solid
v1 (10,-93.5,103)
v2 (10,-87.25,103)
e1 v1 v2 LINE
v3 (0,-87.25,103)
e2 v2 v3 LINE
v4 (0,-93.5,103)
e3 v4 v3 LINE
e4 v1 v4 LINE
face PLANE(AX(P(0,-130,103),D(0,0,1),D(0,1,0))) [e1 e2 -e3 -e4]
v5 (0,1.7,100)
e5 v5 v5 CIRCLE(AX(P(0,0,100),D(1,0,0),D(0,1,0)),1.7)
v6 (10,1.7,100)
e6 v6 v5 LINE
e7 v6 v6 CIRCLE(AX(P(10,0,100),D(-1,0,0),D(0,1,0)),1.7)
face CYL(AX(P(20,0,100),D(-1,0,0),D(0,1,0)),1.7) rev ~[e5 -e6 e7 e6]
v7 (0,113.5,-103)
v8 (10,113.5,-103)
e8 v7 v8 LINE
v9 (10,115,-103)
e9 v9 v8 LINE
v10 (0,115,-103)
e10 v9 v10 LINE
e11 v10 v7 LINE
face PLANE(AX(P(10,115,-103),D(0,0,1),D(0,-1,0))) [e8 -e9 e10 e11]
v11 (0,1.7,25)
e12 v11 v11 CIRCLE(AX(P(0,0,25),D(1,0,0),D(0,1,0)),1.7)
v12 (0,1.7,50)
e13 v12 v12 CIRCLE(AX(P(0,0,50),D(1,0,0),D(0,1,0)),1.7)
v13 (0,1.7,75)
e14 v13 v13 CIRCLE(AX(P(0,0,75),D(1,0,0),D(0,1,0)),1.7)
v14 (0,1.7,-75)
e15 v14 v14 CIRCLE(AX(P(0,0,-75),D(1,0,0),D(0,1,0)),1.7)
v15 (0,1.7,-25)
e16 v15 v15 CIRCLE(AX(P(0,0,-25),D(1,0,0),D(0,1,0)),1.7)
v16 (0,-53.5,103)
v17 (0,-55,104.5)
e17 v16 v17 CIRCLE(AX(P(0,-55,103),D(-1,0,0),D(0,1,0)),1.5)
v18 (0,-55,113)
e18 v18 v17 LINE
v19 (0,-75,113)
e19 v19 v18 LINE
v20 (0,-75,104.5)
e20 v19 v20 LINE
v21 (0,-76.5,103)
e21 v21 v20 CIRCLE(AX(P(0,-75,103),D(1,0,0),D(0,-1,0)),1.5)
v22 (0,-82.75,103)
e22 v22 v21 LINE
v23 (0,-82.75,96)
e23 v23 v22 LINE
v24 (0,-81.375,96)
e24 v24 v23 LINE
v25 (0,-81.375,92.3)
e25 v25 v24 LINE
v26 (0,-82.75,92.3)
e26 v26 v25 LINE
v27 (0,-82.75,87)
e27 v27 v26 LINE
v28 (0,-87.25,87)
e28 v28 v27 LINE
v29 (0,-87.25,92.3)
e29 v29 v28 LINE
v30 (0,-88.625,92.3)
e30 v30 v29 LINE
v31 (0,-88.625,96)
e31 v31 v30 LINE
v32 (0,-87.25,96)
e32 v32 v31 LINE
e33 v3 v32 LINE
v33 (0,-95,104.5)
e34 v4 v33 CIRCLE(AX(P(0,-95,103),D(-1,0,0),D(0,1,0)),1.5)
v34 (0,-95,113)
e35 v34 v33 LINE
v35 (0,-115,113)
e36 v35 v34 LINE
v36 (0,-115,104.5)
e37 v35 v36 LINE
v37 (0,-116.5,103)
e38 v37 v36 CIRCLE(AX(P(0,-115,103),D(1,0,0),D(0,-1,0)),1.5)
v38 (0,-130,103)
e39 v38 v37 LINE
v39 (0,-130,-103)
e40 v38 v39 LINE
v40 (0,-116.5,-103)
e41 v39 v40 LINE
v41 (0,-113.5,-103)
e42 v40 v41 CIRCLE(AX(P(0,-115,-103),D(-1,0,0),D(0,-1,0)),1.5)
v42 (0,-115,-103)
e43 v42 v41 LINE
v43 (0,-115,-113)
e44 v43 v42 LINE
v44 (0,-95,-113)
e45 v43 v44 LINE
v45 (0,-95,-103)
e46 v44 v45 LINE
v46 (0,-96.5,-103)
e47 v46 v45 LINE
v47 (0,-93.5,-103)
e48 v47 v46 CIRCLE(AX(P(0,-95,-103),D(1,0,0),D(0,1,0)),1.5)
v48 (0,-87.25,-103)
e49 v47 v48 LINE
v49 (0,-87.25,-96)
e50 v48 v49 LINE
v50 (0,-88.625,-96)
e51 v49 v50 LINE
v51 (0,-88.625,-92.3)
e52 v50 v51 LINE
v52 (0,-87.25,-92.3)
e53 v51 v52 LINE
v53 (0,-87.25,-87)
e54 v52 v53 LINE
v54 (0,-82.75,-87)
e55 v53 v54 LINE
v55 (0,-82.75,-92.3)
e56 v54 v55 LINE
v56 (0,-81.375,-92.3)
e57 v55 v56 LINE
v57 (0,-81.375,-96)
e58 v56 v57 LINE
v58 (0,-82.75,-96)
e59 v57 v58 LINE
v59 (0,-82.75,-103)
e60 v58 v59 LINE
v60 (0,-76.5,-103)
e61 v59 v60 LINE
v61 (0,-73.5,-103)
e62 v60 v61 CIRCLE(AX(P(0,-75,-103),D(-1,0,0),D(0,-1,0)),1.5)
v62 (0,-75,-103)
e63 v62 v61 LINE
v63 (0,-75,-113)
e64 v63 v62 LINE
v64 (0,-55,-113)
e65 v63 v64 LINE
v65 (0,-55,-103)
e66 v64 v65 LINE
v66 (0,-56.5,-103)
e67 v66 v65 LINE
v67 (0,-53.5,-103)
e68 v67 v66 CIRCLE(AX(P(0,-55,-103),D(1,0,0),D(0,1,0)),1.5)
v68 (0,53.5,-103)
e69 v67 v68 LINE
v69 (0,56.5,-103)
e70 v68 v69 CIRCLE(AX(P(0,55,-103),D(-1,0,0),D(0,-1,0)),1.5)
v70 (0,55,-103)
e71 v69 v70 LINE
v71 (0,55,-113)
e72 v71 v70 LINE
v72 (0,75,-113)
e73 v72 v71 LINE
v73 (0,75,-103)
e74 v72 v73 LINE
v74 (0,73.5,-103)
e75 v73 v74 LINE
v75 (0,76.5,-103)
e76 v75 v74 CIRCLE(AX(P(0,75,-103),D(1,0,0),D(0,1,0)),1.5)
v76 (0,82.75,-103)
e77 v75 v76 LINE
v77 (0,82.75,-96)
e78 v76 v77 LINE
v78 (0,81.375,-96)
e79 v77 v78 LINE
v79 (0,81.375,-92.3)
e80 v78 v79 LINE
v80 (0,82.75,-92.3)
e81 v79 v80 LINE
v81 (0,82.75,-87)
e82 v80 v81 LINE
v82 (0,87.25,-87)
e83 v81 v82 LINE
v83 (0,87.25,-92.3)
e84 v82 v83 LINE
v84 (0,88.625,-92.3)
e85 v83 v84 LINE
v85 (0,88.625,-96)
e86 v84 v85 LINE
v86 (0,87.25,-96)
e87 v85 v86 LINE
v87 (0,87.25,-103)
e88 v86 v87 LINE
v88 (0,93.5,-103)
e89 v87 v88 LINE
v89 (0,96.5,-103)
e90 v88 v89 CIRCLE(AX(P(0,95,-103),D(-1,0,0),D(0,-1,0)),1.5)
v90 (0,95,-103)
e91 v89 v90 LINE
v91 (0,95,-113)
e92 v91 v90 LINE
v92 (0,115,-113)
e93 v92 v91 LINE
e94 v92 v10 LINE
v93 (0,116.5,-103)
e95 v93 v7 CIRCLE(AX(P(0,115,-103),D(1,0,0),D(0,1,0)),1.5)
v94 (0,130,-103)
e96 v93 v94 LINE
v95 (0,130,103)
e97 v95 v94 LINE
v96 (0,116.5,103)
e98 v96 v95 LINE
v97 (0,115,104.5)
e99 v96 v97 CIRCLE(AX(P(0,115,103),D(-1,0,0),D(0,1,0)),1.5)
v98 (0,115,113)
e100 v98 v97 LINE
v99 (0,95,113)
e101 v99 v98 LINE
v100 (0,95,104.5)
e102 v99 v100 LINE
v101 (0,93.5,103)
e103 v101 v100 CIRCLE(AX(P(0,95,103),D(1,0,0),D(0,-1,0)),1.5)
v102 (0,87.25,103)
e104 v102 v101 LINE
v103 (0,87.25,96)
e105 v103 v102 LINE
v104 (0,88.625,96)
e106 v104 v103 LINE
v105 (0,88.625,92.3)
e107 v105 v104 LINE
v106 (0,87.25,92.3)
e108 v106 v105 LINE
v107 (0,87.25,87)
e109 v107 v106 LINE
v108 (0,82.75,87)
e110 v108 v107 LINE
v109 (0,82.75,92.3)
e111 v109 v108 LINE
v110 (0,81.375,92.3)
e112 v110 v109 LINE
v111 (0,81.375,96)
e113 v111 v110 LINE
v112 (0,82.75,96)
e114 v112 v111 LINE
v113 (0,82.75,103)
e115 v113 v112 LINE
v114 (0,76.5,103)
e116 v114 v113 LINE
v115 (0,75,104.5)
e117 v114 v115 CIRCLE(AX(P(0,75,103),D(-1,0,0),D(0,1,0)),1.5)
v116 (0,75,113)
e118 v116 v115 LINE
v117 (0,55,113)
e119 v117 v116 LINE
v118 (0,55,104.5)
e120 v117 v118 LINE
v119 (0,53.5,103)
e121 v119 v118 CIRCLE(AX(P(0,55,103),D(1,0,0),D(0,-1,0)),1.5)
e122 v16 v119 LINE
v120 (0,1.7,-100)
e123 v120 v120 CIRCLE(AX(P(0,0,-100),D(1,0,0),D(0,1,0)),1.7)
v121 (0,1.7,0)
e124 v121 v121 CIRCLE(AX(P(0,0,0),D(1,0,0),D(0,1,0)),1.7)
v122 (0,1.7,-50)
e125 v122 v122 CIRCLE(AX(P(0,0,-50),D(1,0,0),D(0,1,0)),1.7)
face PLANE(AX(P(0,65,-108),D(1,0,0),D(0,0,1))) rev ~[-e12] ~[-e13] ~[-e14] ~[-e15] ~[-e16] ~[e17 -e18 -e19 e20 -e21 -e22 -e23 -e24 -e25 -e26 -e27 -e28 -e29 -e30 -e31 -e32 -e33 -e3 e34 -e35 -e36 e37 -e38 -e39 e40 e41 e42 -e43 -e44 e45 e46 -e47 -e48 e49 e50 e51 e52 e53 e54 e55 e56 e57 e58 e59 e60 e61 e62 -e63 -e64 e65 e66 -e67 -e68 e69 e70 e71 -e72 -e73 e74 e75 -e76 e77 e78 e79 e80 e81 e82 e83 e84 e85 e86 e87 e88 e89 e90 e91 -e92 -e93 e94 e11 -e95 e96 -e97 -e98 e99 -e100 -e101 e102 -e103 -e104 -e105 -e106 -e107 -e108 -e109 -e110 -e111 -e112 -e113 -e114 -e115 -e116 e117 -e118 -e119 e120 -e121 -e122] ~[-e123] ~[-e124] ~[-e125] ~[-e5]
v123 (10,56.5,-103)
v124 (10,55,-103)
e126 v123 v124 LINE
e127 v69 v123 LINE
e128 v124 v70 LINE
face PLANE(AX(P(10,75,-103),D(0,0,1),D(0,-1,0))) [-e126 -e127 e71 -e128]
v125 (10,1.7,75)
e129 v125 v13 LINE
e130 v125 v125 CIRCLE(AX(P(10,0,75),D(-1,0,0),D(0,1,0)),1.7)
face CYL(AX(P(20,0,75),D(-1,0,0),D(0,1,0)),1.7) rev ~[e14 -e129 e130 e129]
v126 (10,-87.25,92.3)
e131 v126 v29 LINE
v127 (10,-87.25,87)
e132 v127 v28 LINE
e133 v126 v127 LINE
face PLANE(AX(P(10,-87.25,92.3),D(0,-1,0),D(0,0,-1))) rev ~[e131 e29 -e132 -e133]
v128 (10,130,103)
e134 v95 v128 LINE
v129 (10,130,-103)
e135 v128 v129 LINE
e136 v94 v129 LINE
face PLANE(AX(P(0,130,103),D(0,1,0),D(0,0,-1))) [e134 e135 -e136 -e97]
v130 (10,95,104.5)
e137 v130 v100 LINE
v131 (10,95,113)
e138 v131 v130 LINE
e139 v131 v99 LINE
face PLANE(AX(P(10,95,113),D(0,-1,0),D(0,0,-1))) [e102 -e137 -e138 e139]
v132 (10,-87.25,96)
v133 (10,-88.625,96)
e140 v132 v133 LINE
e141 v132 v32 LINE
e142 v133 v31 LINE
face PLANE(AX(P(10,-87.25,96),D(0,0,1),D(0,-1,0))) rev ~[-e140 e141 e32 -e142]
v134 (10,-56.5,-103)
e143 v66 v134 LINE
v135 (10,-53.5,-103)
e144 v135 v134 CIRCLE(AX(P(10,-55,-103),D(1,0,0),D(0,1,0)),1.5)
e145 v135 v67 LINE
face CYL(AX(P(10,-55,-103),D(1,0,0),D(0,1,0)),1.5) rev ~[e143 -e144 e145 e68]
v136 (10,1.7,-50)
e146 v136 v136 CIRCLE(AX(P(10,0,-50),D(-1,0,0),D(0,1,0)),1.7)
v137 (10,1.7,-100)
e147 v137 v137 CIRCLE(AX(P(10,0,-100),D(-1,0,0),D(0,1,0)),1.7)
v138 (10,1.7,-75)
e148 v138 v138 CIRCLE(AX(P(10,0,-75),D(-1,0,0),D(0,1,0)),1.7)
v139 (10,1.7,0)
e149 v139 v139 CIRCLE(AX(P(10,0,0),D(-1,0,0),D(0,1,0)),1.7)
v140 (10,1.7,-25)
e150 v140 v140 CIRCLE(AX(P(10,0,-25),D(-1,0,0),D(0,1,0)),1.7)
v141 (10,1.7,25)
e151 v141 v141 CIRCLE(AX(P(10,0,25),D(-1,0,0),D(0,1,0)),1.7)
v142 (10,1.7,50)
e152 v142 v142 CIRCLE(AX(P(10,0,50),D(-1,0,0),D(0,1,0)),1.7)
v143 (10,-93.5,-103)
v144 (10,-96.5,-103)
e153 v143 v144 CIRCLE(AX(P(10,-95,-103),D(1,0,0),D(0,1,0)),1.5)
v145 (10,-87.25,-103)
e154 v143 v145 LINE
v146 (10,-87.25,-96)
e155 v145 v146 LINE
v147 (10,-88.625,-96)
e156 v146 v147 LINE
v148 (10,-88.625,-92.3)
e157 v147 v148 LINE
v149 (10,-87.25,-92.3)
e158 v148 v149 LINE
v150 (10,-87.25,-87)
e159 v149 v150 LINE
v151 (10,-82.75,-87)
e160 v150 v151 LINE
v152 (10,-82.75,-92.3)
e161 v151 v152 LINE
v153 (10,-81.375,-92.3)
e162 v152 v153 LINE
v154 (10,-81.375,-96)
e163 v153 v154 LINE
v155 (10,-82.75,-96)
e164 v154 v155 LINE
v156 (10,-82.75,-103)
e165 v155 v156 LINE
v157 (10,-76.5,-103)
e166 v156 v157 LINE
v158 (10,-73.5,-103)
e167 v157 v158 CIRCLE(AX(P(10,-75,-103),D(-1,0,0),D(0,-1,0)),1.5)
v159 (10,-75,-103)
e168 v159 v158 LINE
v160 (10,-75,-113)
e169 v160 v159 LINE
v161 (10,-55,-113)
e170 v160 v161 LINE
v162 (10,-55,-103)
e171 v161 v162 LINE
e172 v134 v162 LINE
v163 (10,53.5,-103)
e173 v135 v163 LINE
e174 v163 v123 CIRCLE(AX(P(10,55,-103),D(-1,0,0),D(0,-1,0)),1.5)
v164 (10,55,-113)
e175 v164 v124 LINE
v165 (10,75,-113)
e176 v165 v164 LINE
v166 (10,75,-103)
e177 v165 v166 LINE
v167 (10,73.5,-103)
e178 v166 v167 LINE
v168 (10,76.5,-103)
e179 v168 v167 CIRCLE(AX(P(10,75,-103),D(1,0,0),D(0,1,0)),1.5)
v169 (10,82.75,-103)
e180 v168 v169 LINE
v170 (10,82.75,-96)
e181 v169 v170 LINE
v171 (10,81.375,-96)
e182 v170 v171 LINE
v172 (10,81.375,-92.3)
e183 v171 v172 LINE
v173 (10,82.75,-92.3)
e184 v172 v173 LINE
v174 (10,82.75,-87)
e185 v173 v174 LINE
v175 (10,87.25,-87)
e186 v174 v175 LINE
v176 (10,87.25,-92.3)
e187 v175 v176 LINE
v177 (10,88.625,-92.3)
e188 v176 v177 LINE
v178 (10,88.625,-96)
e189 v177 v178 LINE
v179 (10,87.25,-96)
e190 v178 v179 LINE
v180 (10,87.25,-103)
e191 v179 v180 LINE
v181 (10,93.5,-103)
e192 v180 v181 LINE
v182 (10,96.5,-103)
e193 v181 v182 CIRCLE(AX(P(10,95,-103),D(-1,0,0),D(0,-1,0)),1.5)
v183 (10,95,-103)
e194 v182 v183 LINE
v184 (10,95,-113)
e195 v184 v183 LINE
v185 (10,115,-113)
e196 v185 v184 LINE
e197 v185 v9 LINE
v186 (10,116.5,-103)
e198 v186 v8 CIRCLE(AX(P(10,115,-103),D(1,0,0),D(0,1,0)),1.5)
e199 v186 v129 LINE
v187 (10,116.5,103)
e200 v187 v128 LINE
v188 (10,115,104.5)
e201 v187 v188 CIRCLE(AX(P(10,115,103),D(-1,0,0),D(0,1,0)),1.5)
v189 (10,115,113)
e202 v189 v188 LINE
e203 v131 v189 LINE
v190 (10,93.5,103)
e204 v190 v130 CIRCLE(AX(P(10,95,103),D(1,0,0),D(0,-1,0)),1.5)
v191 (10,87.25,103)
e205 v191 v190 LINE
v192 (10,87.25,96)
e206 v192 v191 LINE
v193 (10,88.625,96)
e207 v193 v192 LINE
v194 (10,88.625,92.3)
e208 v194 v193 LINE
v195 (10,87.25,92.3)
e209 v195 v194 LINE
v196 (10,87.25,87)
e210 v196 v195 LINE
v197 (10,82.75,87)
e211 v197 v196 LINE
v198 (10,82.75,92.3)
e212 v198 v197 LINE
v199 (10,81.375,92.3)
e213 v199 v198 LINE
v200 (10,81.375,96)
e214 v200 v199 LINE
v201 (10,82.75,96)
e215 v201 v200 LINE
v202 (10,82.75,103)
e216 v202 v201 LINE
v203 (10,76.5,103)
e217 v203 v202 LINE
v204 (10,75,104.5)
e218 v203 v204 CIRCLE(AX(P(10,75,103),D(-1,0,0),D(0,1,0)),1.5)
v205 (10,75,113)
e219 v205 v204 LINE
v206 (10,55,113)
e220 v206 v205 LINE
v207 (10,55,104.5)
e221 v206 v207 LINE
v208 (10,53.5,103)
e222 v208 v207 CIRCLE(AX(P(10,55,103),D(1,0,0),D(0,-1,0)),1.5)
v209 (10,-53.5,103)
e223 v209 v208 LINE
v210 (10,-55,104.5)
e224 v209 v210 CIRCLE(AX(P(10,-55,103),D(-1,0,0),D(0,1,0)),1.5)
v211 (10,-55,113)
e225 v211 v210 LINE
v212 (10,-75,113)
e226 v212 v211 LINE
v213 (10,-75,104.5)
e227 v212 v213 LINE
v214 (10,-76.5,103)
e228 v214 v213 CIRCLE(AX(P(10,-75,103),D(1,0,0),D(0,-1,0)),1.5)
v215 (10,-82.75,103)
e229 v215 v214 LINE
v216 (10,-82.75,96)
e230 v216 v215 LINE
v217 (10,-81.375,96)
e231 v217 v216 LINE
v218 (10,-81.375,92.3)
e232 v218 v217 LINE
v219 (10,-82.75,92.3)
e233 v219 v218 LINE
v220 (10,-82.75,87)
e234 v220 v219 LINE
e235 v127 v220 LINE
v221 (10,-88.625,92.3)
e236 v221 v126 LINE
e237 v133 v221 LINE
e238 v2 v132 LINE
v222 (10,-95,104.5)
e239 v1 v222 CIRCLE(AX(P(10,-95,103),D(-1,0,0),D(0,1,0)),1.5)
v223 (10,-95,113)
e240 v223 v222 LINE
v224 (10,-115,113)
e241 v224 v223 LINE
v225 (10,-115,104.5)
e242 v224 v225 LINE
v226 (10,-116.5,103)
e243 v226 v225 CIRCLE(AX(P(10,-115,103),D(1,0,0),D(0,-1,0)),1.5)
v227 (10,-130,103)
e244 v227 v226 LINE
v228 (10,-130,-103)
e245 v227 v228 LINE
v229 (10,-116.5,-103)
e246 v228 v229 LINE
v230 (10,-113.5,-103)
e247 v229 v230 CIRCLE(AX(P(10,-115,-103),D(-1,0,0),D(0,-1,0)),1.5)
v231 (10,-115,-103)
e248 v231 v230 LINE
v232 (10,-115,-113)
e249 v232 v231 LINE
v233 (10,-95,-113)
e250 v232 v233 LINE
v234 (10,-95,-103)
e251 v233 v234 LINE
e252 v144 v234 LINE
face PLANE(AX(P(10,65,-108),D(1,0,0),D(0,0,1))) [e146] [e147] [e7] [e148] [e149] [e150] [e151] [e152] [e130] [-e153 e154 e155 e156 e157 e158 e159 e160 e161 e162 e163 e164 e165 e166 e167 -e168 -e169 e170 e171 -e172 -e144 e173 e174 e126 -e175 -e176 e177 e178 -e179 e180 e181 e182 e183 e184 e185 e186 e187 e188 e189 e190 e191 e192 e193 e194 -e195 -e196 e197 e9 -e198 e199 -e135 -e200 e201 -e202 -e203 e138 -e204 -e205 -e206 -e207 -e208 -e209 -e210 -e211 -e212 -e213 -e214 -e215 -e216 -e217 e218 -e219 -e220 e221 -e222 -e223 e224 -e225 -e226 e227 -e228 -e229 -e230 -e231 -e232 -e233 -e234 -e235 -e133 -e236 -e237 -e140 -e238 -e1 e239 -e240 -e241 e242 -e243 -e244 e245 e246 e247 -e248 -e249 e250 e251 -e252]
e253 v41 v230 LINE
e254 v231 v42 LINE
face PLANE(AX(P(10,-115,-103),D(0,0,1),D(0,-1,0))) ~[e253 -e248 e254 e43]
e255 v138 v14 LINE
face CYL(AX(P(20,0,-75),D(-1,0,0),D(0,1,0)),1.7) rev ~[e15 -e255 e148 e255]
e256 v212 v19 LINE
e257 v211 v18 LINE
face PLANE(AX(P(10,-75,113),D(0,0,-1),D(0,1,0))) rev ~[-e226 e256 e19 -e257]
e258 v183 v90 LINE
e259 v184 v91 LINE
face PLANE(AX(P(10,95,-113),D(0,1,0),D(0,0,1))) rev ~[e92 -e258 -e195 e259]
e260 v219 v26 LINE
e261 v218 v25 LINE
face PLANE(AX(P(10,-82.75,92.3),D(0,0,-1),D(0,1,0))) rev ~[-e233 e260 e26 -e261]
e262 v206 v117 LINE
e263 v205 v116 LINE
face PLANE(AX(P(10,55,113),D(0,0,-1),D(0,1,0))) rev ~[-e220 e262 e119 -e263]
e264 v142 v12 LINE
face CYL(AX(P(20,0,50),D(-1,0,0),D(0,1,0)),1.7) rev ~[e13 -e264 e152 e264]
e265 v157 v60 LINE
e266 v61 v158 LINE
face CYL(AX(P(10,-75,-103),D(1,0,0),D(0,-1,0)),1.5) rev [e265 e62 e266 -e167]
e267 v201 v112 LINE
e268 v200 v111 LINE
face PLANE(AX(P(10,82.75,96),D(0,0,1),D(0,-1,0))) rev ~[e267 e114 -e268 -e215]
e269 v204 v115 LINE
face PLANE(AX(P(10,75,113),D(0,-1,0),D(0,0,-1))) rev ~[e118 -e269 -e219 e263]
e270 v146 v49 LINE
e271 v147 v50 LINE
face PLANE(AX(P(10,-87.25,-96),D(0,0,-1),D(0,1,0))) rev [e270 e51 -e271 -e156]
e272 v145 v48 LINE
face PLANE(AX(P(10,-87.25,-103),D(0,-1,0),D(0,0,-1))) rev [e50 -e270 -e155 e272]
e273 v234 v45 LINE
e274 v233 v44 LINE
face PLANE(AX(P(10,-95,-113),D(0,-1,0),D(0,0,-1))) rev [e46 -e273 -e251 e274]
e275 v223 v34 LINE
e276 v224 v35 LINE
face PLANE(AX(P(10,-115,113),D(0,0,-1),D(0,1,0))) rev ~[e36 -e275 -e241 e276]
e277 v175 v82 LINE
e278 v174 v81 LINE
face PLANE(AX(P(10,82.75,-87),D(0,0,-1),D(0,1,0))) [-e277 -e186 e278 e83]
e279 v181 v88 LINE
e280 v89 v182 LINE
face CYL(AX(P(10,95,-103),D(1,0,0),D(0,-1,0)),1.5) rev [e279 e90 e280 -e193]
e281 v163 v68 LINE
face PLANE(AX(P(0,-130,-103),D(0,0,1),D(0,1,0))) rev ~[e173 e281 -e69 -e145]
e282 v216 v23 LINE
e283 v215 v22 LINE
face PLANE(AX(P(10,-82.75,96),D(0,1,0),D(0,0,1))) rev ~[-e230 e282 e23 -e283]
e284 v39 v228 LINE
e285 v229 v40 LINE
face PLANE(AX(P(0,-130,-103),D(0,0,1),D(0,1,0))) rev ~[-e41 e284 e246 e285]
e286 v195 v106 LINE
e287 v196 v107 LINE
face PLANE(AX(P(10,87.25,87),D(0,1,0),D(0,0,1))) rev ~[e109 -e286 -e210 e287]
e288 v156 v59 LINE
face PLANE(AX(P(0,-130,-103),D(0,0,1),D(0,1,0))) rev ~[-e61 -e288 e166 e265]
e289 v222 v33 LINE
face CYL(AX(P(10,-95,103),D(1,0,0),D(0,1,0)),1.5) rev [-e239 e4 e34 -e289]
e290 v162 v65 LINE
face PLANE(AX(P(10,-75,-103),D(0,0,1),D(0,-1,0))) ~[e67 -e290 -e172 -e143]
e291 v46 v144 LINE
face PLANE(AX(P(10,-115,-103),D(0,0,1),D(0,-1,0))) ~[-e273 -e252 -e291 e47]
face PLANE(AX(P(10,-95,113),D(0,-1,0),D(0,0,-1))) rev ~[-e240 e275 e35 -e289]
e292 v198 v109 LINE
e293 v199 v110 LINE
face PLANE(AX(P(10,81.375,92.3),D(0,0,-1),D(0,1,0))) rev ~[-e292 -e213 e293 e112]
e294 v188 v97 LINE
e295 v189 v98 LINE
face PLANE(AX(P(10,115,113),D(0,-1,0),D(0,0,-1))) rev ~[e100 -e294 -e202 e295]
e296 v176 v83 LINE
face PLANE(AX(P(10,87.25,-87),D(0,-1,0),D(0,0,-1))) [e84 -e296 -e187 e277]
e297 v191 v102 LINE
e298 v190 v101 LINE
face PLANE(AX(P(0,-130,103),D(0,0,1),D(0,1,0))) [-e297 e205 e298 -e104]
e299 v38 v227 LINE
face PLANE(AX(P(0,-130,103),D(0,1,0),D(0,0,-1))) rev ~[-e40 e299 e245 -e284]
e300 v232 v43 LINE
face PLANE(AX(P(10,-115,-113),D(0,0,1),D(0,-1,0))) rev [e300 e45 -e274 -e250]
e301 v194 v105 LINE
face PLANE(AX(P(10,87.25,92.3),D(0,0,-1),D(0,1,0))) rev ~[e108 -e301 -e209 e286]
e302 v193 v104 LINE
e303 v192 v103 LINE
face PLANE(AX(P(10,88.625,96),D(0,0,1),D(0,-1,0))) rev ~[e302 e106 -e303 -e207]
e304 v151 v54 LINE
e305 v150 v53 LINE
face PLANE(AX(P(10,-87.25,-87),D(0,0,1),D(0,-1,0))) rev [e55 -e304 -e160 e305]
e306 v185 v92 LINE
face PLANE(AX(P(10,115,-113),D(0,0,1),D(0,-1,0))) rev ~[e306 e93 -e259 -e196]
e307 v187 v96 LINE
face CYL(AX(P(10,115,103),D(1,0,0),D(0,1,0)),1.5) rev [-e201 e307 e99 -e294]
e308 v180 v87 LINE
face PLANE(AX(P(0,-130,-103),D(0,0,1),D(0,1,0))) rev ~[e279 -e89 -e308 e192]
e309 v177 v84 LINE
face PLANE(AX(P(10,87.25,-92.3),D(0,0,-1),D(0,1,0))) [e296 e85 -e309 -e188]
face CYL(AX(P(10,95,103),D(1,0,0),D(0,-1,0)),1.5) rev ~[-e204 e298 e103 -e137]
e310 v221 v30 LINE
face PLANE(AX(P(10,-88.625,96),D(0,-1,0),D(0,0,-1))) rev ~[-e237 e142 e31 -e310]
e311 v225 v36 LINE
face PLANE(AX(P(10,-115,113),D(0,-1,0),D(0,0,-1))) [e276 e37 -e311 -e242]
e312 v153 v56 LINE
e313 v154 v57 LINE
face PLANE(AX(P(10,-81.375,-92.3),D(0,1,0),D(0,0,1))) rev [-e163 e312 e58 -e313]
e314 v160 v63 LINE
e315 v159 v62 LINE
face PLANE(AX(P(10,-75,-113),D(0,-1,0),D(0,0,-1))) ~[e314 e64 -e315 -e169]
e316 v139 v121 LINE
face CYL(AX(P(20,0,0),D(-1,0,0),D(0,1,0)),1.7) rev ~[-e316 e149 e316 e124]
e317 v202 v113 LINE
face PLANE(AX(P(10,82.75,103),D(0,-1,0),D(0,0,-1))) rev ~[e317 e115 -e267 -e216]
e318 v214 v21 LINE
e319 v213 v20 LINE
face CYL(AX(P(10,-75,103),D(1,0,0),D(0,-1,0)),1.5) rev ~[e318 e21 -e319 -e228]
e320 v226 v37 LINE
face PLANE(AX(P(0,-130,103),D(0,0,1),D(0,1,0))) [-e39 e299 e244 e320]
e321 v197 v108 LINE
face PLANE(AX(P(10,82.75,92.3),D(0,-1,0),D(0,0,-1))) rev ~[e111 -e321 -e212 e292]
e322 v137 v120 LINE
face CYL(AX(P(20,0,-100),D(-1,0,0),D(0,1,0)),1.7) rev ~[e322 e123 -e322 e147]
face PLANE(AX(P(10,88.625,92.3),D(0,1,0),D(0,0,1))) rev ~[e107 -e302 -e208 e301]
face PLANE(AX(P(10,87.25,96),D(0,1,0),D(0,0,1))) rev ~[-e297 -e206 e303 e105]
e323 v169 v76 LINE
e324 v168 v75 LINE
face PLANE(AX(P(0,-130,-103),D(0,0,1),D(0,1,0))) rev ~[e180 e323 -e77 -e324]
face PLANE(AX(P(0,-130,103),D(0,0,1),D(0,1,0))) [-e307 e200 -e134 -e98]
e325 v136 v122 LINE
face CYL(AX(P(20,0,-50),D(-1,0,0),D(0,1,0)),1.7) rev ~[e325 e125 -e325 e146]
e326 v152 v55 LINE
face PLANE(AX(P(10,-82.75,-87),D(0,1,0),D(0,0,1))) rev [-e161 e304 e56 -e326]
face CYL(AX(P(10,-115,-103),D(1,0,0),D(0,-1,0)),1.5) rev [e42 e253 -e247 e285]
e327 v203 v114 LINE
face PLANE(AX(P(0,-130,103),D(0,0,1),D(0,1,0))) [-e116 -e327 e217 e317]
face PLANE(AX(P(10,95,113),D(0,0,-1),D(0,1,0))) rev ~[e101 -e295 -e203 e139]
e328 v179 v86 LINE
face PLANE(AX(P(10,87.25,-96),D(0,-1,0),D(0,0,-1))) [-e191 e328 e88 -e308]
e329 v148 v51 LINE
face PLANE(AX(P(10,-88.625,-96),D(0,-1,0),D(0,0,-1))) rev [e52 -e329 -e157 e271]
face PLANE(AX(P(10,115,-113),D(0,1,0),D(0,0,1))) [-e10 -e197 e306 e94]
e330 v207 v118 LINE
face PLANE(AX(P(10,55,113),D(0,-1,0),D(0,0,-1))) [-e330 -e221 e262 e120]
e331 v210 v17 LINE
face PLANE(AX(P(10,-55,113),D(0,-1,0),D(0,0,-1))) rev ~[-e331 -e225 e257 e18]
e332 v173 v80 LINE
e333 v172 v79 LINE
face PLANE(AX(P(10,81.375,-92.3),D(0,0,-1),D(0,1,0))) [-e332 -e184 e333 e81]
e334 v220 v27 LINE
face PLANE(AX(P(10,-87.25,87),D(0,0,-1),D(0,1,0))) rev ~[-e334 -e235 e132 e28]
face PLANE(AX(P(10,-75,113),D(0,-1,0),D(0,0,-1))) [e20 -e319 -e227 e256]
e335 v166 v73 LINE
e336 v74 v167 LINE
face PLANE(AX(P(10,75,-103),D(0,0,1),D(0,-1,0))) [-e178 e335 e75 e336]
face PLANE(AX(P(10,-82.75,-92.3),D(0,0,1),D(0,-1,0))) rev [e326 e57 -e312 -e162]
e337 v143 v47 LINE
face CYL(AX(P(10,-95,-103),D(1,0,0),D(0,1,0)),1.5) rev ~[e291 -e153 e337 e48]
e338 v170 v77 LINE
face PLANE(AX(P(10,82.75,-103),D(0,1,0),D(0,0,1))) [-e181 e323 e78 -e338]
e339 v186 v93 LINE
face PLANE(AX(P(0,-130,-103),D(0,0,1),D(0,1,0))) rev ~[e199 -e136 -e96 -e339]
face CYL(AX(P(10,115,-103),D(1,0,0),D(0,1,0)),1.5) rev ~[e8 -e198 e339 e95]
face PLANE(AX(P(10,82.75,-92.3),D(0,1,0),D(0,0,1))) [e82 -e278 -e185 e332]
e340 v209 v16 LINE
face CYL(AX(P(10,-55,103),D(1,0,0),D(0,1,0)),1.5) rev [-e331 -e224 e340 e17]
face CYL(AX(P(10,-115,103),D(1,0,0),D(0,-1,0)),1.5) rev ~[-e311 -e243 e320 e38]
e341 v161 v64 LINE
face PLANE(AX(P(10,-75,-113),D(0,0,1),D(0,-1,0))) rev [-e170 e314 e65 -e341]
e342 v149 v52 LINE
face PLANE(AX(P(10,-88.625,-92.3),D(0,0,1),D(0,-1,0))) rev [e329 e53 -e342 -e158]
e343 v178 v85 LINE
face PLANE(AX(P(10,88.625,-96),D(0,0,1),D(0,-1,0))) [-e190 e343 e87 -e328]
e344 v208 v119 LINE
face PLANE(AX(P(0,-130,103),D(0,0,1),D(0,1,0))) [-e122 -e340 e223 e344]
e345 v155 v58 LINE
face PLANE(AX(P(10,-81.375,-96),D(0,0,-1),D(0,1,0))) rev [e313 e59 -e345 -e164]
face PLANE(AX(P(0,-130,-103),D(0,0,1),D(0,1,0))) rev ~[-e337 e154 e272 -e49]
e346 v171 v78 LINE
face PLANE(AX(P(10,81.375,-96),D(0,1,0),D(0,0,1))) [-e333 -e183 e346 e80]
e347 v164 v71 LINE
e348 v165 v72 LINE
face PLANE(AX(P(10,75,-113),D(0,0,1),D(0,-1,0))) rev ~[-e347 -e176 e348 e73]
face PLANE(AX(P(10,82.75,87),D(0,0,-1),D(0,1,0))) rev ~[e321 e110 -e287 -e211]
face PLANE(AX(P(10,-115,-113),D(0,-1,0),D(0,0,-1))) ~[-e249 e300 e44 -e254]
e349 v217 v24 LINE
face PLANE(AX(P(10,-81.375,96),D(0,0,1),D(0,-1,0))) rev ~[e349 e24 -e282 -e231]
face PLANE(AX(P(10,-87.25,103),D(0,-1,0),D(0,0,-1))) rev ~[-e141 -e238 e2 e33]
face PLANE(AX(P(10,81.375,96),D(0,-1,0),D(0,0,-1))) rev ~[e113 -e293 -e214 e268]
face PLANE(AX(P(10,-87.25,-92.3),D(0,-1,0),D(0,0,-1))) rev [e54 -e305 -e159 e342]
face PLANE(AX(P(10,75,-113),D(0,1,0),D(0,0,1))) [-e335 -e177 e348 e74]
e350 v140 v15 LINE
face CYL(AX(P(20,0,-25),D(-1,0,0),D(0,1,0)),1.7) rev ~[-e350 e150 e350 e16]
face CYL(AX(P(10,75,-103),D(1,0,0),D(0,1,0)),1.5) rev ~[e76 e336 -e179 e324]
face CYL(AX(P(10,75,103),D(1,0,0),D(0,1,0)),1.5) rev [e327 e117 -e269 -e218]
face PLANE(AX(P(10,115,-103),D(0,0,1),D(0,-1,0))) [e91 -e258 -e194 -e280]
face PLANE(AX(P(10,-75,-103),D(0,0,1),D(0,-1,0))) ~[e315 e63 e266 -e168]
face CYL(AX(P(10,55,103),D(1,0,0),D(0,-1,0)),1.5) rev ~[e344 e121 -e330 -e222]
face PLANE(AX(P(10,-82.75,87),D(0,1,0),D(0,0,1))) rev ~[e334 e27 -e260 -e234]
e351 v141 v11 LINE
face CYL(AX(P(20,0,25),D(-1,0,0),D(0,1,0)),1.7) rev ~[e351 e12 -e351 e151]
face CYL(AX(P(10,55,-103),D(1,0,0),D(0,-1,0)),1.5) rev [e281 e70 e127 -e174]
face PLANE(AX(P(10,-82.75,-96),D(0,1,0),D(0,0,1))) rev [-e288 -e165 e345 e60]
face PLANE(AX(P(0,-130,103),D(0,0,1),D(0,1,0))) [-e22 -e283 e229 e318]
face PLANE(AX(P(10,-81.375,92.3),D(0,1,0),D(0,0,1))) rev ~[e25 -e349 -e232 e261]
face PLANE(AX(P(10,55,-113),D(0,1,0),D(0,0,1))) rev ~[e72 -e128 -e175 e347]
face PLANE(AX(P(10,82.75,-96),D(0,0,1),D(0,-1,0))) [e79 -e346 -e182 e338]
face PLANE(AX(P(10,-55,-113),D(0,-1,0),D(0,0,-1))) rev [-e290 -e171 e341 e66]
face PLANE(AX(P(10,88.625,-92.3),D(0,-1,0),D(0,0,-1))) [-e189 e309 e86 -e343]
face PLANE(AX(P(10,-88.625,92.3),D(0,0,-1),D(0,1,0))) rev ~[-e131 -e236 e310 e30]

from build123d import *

# Parameters (mm, degrees)
SKETCH1_W                = 206
SKETCH1_H                = 260
EXTRUDE1_DEPTH           = 10
SKETCH3_W                = 10
SKETCH3_H                = 20
EXTRUDE2_DEPTH           = 10
LPATTERN1_COUNT          = 2
LPATTERN1_PITCH          = 196
LPATTERN1_COUNT_DIR2     = 2
LPATTERN1_PITCH_DIR2     = 170
EXTRUDE4_DEPTH           = 10
LPATTERN2_COUNT          = 2
LPATTERN2_PITCH          = 170
LPATTERN2_COPY_1_DEPTH   = 10
EXTRUDE5_DEPTH           = 10
MIRROR3_COPY_1_DEPTH     = 10
M3_CLEARANCE_HOLE1_D     = 3.4
M3_CLEARANCE_HOLE1_DEPTH = 10
M3_CLEARANCE_HOLE1_TIP   = 1.021463052
MIRROR4_COPY_1_SKETCH_W  = 10
MIRROR4_COPY_1_SKETCH_H  = 20
MIRROR4_COPY_1_DEPTH     = 10


with BuildPart() as part:
    # Sketch1 → Extrude1 (new body)
    with BuildSketch(Plane(origin=(0, 0, 0), x_dir=(0, 0, -1), z_dir=(1, 0, 0))):
        Rectangle(SKETCH1_W, SKETCH1_H)
    extrude(amount=EXTRUDE1_DEPTH)

    # Sketch3 → Extrude2 (add)
    with BuildSketch(Plane(origin=(10, 0, 0), x_dir=(0, 0, -1), z_dir=(1, 0, 0))):
        with Locations((-108, -105)):
            Rectangle(SKETCH3_W, SKETCH3_H)
        with Locations((-108, -65)):
            Rectangle(SKETCH3_W, SKETCH3_H)
    extrude2 = extrude(amount=-EXTRUDE2_DEPTH)

    # LPattern1: Extrude2 2 × 2, 2 skipped
    with Locations(*[(i * LPATTERN1_PITCH, j * LPATTERN1_PITCH_DIR2, 0) for i in range(LPATTERN1_COUNT) for j in range(LPATTERN1_COUNT_DIR2) if (i, j) not in ((0, 0), (1, 0), (1, 1))]):
        add(extrude2)

    # Sketch5 → Extrude4 (cut)
    with BuildSketch(Plane(origin=(10, 0, 0), x_dir=(0, 0, -1), z_dir=(1, 0, 0))):
        Polygon((-103, -87.25), (-96, -87.25), (-96, -88.625), (-92.3, -88.625), (-92.3, -87.25), (-87, -87.25), (-87, -82.75), (-92.3, -82.75), (-92.3, -81.375), (-96, -81.375), (-96, -82.75), (-103, -82.75), align=None)
    extrude4 = extrude(amount=-EXTRUDE4_DEPTH, mode=Mode.SUBTRACT)

    # Mirror1: Extrude4 across plane
    add(extrude4.mirror(Plane(origin=(0, 0, 0), x_dir=(1, 0, 0), z_dir=(0, 0, -1))), mode=Mode.SUBTRACT)

    # LPattern2: Extrude4 ×2
    with Locations(*[(0, i * LPATTERN2_PITCH, 0) for i in range(1, LPATTERN2_COUNT)]):
        add(extrude4, mode=Mode.SUBTRACT)

    # LPattern2 copy 1 sketch → LPattern2 copy 1 (cut)
    with BuildSketch(Plane(origin=(10, 170, 0), x_dir=(0, 0, 1), z_dir=(1, 0, 0))):
        Polygon((-103, 87.25), (-96, 87.25), (-96, 88.625), (-92.3, 88.625), (-92.3, 87.25), (-87, 87.25), (-87, 82.75), (-92.3, 82.75), (-92.3, 81.375), (-96, 81.375), (-96, 82.75), (-103, 82.75), align=None)
    extrude(amount=-LPATTERN2_COPY_1_DEPTH, mode=Mode.SUBTRACT)

    # Sketch6 → Extrude5 (cut)
    with BuildSketch(Plane(origin=(10, 0, 0), x_dir=(0, 0, -1), z_dir=(1, 0, 0))):
        with BuildLine():
            Line((-104.5, -115), (-103, -115))
            Line((-103, -115), (-103, -116.5))
            ThreePointArc((-103, -116.5), (-101.939339828, -113.939339828), (-104.5, -115))
        make_face()
        with BuildLine():
            Line((-104.5, -55), (-103, -55))
            Line((-103, -55), (-103, -53.5))
            ThreePointArc((-103, -53.5), (-101.939339828, -56.060660172), (-104.5, -55))
        make_face()
        with BuildLine():
            Line((-104.5, -95), (-103, -95))
            Line((-103, -95), (-103, -93.5))
            ThreePointArc((-103, -93.5), (-101.939339828, -96.060660172), (-104.5, -95))
        make_face()
        with BuildLine():
            Line((-104.5, -75), (-103, -75))
            Line((-103, -75), (-103, -76.5))
            ThreePointArc((-103, -76.5), (-101.939339828, -73.939339828), (-104.5, -75))
        make_face()
    extrude5 = extrude(amount=-EXTRUDE5_DEPTH, mode=Mode.SUBTRACT)

    # Mirror2: Extrude5 across plane
    add(extrude5.mirror(Plane(origin=(0, 0, 0), x_dir=(1, 0, 0), z_dir=(0, 0, -1))), mode=Mode.SUBTRACT)

    # Mirror3: Extrude5 across plane
    add(extrude5.mirror(Plane.ZX), mode=Mode.SUBTRACT)

    # Mirror3 copy 1 sketch → Mirror3 copy 1 (cut)
    with BuildSketch(Plane(origin=(10, 0, 0), x_dir=(0, 0, 1), z_dir=(1, 0, 0))):
        with BuildLine():
            Line((-104.5, -115), (-103, -115))
            Line((-103, -115), (-103, -116.5))
            ThreePointArc((-103, -116.5), (-101.939339828, -113.939339828), (-104.5, -115))
        make_face()
        with BuildLine():
            Line((-104.5, -55), (-103, -55))
            Line((-103, -55), (-103, -53.5))
            ThreePointArc((-103, -53.5), (-101.939339828, -56.060660172), (-104.5, -55))
        make_face()
        with BuildLine():
            Line((-104.5, -95), (-103, -95))
            Line((-103, -95), (-103, -93.5))
            ThreePointArc((-103, -93.5), (-101.939339828, -96.060660172), (-104.5, -95))
        make_face()
        with BuildLine():
            Line((-104.5, -75), (-103, -75))
            Line((-103, -75), (-103, -76.5))
            ThreePointArc((-103, -76.5), (-101.939339828, -73.939339828), (-104.5, -75))
        make_face()
    extrude(amount=-MIRROR3_COPY_1_DEPTH, mode=Mode.SUBTRACT)

    # M3 Clearance Hole1
    with Locations(Plane(origin=(10, -130, 293), x_dir=(0, -1, 0), z_dir=(1, 0, 0))):
        with Locations((-130, 368), (-130, 343), (-130, 318), (-130, 293), (-130, 268), (-130, 243), (-130, 218), (-130, 193), (-130, 393)):
            Hole(M3_CLEARANCE_HOLE1_D / 2, depth=M3_CLEARANCE_HOLE1_DEPTH)
            with Locations((0, 0, -(M3_CLEARANCE_HOLE1_DEPTH + M3_CLEARANCE_HOLE1_TIP / 2))):  # 118° drill point
                Cone(0, M3_CLEARANCE_HOLE1_D / 2, M3_CLEARANCE_HOLE1_TIP, mode=Mode.SUBTRACT)

    # Mirror4: Extrude2 across plane
    add(extrude2.mirror(Plane(origin=(0, 0, 0), x_dir=(1, 0, 0), z_dir=(0, 0, -1))))

    # Mirror4 copy 1 sketch → Mirror4 copy 1 (add)
    with BuildSketch(Plane(origin=(10, 170, 0), x_dir=(0, 0, 1), z_dir=(1, 0, 0))):
        with Locations((-108, 105)):
            Rectangle(MIRROR4_COPY_1_SKETCH_W, MIRROR4_COPY_1_SKETCH_H)
        with Locations((-108, 65)):
            Rectangle(MIRROR4_COPY_1_SKETCH_W, MIRROR4_COPY_1_SKETCH_H)
    extrude(amount=-MIRROR4_COPY_1_DEPTH)


solid = part.part
